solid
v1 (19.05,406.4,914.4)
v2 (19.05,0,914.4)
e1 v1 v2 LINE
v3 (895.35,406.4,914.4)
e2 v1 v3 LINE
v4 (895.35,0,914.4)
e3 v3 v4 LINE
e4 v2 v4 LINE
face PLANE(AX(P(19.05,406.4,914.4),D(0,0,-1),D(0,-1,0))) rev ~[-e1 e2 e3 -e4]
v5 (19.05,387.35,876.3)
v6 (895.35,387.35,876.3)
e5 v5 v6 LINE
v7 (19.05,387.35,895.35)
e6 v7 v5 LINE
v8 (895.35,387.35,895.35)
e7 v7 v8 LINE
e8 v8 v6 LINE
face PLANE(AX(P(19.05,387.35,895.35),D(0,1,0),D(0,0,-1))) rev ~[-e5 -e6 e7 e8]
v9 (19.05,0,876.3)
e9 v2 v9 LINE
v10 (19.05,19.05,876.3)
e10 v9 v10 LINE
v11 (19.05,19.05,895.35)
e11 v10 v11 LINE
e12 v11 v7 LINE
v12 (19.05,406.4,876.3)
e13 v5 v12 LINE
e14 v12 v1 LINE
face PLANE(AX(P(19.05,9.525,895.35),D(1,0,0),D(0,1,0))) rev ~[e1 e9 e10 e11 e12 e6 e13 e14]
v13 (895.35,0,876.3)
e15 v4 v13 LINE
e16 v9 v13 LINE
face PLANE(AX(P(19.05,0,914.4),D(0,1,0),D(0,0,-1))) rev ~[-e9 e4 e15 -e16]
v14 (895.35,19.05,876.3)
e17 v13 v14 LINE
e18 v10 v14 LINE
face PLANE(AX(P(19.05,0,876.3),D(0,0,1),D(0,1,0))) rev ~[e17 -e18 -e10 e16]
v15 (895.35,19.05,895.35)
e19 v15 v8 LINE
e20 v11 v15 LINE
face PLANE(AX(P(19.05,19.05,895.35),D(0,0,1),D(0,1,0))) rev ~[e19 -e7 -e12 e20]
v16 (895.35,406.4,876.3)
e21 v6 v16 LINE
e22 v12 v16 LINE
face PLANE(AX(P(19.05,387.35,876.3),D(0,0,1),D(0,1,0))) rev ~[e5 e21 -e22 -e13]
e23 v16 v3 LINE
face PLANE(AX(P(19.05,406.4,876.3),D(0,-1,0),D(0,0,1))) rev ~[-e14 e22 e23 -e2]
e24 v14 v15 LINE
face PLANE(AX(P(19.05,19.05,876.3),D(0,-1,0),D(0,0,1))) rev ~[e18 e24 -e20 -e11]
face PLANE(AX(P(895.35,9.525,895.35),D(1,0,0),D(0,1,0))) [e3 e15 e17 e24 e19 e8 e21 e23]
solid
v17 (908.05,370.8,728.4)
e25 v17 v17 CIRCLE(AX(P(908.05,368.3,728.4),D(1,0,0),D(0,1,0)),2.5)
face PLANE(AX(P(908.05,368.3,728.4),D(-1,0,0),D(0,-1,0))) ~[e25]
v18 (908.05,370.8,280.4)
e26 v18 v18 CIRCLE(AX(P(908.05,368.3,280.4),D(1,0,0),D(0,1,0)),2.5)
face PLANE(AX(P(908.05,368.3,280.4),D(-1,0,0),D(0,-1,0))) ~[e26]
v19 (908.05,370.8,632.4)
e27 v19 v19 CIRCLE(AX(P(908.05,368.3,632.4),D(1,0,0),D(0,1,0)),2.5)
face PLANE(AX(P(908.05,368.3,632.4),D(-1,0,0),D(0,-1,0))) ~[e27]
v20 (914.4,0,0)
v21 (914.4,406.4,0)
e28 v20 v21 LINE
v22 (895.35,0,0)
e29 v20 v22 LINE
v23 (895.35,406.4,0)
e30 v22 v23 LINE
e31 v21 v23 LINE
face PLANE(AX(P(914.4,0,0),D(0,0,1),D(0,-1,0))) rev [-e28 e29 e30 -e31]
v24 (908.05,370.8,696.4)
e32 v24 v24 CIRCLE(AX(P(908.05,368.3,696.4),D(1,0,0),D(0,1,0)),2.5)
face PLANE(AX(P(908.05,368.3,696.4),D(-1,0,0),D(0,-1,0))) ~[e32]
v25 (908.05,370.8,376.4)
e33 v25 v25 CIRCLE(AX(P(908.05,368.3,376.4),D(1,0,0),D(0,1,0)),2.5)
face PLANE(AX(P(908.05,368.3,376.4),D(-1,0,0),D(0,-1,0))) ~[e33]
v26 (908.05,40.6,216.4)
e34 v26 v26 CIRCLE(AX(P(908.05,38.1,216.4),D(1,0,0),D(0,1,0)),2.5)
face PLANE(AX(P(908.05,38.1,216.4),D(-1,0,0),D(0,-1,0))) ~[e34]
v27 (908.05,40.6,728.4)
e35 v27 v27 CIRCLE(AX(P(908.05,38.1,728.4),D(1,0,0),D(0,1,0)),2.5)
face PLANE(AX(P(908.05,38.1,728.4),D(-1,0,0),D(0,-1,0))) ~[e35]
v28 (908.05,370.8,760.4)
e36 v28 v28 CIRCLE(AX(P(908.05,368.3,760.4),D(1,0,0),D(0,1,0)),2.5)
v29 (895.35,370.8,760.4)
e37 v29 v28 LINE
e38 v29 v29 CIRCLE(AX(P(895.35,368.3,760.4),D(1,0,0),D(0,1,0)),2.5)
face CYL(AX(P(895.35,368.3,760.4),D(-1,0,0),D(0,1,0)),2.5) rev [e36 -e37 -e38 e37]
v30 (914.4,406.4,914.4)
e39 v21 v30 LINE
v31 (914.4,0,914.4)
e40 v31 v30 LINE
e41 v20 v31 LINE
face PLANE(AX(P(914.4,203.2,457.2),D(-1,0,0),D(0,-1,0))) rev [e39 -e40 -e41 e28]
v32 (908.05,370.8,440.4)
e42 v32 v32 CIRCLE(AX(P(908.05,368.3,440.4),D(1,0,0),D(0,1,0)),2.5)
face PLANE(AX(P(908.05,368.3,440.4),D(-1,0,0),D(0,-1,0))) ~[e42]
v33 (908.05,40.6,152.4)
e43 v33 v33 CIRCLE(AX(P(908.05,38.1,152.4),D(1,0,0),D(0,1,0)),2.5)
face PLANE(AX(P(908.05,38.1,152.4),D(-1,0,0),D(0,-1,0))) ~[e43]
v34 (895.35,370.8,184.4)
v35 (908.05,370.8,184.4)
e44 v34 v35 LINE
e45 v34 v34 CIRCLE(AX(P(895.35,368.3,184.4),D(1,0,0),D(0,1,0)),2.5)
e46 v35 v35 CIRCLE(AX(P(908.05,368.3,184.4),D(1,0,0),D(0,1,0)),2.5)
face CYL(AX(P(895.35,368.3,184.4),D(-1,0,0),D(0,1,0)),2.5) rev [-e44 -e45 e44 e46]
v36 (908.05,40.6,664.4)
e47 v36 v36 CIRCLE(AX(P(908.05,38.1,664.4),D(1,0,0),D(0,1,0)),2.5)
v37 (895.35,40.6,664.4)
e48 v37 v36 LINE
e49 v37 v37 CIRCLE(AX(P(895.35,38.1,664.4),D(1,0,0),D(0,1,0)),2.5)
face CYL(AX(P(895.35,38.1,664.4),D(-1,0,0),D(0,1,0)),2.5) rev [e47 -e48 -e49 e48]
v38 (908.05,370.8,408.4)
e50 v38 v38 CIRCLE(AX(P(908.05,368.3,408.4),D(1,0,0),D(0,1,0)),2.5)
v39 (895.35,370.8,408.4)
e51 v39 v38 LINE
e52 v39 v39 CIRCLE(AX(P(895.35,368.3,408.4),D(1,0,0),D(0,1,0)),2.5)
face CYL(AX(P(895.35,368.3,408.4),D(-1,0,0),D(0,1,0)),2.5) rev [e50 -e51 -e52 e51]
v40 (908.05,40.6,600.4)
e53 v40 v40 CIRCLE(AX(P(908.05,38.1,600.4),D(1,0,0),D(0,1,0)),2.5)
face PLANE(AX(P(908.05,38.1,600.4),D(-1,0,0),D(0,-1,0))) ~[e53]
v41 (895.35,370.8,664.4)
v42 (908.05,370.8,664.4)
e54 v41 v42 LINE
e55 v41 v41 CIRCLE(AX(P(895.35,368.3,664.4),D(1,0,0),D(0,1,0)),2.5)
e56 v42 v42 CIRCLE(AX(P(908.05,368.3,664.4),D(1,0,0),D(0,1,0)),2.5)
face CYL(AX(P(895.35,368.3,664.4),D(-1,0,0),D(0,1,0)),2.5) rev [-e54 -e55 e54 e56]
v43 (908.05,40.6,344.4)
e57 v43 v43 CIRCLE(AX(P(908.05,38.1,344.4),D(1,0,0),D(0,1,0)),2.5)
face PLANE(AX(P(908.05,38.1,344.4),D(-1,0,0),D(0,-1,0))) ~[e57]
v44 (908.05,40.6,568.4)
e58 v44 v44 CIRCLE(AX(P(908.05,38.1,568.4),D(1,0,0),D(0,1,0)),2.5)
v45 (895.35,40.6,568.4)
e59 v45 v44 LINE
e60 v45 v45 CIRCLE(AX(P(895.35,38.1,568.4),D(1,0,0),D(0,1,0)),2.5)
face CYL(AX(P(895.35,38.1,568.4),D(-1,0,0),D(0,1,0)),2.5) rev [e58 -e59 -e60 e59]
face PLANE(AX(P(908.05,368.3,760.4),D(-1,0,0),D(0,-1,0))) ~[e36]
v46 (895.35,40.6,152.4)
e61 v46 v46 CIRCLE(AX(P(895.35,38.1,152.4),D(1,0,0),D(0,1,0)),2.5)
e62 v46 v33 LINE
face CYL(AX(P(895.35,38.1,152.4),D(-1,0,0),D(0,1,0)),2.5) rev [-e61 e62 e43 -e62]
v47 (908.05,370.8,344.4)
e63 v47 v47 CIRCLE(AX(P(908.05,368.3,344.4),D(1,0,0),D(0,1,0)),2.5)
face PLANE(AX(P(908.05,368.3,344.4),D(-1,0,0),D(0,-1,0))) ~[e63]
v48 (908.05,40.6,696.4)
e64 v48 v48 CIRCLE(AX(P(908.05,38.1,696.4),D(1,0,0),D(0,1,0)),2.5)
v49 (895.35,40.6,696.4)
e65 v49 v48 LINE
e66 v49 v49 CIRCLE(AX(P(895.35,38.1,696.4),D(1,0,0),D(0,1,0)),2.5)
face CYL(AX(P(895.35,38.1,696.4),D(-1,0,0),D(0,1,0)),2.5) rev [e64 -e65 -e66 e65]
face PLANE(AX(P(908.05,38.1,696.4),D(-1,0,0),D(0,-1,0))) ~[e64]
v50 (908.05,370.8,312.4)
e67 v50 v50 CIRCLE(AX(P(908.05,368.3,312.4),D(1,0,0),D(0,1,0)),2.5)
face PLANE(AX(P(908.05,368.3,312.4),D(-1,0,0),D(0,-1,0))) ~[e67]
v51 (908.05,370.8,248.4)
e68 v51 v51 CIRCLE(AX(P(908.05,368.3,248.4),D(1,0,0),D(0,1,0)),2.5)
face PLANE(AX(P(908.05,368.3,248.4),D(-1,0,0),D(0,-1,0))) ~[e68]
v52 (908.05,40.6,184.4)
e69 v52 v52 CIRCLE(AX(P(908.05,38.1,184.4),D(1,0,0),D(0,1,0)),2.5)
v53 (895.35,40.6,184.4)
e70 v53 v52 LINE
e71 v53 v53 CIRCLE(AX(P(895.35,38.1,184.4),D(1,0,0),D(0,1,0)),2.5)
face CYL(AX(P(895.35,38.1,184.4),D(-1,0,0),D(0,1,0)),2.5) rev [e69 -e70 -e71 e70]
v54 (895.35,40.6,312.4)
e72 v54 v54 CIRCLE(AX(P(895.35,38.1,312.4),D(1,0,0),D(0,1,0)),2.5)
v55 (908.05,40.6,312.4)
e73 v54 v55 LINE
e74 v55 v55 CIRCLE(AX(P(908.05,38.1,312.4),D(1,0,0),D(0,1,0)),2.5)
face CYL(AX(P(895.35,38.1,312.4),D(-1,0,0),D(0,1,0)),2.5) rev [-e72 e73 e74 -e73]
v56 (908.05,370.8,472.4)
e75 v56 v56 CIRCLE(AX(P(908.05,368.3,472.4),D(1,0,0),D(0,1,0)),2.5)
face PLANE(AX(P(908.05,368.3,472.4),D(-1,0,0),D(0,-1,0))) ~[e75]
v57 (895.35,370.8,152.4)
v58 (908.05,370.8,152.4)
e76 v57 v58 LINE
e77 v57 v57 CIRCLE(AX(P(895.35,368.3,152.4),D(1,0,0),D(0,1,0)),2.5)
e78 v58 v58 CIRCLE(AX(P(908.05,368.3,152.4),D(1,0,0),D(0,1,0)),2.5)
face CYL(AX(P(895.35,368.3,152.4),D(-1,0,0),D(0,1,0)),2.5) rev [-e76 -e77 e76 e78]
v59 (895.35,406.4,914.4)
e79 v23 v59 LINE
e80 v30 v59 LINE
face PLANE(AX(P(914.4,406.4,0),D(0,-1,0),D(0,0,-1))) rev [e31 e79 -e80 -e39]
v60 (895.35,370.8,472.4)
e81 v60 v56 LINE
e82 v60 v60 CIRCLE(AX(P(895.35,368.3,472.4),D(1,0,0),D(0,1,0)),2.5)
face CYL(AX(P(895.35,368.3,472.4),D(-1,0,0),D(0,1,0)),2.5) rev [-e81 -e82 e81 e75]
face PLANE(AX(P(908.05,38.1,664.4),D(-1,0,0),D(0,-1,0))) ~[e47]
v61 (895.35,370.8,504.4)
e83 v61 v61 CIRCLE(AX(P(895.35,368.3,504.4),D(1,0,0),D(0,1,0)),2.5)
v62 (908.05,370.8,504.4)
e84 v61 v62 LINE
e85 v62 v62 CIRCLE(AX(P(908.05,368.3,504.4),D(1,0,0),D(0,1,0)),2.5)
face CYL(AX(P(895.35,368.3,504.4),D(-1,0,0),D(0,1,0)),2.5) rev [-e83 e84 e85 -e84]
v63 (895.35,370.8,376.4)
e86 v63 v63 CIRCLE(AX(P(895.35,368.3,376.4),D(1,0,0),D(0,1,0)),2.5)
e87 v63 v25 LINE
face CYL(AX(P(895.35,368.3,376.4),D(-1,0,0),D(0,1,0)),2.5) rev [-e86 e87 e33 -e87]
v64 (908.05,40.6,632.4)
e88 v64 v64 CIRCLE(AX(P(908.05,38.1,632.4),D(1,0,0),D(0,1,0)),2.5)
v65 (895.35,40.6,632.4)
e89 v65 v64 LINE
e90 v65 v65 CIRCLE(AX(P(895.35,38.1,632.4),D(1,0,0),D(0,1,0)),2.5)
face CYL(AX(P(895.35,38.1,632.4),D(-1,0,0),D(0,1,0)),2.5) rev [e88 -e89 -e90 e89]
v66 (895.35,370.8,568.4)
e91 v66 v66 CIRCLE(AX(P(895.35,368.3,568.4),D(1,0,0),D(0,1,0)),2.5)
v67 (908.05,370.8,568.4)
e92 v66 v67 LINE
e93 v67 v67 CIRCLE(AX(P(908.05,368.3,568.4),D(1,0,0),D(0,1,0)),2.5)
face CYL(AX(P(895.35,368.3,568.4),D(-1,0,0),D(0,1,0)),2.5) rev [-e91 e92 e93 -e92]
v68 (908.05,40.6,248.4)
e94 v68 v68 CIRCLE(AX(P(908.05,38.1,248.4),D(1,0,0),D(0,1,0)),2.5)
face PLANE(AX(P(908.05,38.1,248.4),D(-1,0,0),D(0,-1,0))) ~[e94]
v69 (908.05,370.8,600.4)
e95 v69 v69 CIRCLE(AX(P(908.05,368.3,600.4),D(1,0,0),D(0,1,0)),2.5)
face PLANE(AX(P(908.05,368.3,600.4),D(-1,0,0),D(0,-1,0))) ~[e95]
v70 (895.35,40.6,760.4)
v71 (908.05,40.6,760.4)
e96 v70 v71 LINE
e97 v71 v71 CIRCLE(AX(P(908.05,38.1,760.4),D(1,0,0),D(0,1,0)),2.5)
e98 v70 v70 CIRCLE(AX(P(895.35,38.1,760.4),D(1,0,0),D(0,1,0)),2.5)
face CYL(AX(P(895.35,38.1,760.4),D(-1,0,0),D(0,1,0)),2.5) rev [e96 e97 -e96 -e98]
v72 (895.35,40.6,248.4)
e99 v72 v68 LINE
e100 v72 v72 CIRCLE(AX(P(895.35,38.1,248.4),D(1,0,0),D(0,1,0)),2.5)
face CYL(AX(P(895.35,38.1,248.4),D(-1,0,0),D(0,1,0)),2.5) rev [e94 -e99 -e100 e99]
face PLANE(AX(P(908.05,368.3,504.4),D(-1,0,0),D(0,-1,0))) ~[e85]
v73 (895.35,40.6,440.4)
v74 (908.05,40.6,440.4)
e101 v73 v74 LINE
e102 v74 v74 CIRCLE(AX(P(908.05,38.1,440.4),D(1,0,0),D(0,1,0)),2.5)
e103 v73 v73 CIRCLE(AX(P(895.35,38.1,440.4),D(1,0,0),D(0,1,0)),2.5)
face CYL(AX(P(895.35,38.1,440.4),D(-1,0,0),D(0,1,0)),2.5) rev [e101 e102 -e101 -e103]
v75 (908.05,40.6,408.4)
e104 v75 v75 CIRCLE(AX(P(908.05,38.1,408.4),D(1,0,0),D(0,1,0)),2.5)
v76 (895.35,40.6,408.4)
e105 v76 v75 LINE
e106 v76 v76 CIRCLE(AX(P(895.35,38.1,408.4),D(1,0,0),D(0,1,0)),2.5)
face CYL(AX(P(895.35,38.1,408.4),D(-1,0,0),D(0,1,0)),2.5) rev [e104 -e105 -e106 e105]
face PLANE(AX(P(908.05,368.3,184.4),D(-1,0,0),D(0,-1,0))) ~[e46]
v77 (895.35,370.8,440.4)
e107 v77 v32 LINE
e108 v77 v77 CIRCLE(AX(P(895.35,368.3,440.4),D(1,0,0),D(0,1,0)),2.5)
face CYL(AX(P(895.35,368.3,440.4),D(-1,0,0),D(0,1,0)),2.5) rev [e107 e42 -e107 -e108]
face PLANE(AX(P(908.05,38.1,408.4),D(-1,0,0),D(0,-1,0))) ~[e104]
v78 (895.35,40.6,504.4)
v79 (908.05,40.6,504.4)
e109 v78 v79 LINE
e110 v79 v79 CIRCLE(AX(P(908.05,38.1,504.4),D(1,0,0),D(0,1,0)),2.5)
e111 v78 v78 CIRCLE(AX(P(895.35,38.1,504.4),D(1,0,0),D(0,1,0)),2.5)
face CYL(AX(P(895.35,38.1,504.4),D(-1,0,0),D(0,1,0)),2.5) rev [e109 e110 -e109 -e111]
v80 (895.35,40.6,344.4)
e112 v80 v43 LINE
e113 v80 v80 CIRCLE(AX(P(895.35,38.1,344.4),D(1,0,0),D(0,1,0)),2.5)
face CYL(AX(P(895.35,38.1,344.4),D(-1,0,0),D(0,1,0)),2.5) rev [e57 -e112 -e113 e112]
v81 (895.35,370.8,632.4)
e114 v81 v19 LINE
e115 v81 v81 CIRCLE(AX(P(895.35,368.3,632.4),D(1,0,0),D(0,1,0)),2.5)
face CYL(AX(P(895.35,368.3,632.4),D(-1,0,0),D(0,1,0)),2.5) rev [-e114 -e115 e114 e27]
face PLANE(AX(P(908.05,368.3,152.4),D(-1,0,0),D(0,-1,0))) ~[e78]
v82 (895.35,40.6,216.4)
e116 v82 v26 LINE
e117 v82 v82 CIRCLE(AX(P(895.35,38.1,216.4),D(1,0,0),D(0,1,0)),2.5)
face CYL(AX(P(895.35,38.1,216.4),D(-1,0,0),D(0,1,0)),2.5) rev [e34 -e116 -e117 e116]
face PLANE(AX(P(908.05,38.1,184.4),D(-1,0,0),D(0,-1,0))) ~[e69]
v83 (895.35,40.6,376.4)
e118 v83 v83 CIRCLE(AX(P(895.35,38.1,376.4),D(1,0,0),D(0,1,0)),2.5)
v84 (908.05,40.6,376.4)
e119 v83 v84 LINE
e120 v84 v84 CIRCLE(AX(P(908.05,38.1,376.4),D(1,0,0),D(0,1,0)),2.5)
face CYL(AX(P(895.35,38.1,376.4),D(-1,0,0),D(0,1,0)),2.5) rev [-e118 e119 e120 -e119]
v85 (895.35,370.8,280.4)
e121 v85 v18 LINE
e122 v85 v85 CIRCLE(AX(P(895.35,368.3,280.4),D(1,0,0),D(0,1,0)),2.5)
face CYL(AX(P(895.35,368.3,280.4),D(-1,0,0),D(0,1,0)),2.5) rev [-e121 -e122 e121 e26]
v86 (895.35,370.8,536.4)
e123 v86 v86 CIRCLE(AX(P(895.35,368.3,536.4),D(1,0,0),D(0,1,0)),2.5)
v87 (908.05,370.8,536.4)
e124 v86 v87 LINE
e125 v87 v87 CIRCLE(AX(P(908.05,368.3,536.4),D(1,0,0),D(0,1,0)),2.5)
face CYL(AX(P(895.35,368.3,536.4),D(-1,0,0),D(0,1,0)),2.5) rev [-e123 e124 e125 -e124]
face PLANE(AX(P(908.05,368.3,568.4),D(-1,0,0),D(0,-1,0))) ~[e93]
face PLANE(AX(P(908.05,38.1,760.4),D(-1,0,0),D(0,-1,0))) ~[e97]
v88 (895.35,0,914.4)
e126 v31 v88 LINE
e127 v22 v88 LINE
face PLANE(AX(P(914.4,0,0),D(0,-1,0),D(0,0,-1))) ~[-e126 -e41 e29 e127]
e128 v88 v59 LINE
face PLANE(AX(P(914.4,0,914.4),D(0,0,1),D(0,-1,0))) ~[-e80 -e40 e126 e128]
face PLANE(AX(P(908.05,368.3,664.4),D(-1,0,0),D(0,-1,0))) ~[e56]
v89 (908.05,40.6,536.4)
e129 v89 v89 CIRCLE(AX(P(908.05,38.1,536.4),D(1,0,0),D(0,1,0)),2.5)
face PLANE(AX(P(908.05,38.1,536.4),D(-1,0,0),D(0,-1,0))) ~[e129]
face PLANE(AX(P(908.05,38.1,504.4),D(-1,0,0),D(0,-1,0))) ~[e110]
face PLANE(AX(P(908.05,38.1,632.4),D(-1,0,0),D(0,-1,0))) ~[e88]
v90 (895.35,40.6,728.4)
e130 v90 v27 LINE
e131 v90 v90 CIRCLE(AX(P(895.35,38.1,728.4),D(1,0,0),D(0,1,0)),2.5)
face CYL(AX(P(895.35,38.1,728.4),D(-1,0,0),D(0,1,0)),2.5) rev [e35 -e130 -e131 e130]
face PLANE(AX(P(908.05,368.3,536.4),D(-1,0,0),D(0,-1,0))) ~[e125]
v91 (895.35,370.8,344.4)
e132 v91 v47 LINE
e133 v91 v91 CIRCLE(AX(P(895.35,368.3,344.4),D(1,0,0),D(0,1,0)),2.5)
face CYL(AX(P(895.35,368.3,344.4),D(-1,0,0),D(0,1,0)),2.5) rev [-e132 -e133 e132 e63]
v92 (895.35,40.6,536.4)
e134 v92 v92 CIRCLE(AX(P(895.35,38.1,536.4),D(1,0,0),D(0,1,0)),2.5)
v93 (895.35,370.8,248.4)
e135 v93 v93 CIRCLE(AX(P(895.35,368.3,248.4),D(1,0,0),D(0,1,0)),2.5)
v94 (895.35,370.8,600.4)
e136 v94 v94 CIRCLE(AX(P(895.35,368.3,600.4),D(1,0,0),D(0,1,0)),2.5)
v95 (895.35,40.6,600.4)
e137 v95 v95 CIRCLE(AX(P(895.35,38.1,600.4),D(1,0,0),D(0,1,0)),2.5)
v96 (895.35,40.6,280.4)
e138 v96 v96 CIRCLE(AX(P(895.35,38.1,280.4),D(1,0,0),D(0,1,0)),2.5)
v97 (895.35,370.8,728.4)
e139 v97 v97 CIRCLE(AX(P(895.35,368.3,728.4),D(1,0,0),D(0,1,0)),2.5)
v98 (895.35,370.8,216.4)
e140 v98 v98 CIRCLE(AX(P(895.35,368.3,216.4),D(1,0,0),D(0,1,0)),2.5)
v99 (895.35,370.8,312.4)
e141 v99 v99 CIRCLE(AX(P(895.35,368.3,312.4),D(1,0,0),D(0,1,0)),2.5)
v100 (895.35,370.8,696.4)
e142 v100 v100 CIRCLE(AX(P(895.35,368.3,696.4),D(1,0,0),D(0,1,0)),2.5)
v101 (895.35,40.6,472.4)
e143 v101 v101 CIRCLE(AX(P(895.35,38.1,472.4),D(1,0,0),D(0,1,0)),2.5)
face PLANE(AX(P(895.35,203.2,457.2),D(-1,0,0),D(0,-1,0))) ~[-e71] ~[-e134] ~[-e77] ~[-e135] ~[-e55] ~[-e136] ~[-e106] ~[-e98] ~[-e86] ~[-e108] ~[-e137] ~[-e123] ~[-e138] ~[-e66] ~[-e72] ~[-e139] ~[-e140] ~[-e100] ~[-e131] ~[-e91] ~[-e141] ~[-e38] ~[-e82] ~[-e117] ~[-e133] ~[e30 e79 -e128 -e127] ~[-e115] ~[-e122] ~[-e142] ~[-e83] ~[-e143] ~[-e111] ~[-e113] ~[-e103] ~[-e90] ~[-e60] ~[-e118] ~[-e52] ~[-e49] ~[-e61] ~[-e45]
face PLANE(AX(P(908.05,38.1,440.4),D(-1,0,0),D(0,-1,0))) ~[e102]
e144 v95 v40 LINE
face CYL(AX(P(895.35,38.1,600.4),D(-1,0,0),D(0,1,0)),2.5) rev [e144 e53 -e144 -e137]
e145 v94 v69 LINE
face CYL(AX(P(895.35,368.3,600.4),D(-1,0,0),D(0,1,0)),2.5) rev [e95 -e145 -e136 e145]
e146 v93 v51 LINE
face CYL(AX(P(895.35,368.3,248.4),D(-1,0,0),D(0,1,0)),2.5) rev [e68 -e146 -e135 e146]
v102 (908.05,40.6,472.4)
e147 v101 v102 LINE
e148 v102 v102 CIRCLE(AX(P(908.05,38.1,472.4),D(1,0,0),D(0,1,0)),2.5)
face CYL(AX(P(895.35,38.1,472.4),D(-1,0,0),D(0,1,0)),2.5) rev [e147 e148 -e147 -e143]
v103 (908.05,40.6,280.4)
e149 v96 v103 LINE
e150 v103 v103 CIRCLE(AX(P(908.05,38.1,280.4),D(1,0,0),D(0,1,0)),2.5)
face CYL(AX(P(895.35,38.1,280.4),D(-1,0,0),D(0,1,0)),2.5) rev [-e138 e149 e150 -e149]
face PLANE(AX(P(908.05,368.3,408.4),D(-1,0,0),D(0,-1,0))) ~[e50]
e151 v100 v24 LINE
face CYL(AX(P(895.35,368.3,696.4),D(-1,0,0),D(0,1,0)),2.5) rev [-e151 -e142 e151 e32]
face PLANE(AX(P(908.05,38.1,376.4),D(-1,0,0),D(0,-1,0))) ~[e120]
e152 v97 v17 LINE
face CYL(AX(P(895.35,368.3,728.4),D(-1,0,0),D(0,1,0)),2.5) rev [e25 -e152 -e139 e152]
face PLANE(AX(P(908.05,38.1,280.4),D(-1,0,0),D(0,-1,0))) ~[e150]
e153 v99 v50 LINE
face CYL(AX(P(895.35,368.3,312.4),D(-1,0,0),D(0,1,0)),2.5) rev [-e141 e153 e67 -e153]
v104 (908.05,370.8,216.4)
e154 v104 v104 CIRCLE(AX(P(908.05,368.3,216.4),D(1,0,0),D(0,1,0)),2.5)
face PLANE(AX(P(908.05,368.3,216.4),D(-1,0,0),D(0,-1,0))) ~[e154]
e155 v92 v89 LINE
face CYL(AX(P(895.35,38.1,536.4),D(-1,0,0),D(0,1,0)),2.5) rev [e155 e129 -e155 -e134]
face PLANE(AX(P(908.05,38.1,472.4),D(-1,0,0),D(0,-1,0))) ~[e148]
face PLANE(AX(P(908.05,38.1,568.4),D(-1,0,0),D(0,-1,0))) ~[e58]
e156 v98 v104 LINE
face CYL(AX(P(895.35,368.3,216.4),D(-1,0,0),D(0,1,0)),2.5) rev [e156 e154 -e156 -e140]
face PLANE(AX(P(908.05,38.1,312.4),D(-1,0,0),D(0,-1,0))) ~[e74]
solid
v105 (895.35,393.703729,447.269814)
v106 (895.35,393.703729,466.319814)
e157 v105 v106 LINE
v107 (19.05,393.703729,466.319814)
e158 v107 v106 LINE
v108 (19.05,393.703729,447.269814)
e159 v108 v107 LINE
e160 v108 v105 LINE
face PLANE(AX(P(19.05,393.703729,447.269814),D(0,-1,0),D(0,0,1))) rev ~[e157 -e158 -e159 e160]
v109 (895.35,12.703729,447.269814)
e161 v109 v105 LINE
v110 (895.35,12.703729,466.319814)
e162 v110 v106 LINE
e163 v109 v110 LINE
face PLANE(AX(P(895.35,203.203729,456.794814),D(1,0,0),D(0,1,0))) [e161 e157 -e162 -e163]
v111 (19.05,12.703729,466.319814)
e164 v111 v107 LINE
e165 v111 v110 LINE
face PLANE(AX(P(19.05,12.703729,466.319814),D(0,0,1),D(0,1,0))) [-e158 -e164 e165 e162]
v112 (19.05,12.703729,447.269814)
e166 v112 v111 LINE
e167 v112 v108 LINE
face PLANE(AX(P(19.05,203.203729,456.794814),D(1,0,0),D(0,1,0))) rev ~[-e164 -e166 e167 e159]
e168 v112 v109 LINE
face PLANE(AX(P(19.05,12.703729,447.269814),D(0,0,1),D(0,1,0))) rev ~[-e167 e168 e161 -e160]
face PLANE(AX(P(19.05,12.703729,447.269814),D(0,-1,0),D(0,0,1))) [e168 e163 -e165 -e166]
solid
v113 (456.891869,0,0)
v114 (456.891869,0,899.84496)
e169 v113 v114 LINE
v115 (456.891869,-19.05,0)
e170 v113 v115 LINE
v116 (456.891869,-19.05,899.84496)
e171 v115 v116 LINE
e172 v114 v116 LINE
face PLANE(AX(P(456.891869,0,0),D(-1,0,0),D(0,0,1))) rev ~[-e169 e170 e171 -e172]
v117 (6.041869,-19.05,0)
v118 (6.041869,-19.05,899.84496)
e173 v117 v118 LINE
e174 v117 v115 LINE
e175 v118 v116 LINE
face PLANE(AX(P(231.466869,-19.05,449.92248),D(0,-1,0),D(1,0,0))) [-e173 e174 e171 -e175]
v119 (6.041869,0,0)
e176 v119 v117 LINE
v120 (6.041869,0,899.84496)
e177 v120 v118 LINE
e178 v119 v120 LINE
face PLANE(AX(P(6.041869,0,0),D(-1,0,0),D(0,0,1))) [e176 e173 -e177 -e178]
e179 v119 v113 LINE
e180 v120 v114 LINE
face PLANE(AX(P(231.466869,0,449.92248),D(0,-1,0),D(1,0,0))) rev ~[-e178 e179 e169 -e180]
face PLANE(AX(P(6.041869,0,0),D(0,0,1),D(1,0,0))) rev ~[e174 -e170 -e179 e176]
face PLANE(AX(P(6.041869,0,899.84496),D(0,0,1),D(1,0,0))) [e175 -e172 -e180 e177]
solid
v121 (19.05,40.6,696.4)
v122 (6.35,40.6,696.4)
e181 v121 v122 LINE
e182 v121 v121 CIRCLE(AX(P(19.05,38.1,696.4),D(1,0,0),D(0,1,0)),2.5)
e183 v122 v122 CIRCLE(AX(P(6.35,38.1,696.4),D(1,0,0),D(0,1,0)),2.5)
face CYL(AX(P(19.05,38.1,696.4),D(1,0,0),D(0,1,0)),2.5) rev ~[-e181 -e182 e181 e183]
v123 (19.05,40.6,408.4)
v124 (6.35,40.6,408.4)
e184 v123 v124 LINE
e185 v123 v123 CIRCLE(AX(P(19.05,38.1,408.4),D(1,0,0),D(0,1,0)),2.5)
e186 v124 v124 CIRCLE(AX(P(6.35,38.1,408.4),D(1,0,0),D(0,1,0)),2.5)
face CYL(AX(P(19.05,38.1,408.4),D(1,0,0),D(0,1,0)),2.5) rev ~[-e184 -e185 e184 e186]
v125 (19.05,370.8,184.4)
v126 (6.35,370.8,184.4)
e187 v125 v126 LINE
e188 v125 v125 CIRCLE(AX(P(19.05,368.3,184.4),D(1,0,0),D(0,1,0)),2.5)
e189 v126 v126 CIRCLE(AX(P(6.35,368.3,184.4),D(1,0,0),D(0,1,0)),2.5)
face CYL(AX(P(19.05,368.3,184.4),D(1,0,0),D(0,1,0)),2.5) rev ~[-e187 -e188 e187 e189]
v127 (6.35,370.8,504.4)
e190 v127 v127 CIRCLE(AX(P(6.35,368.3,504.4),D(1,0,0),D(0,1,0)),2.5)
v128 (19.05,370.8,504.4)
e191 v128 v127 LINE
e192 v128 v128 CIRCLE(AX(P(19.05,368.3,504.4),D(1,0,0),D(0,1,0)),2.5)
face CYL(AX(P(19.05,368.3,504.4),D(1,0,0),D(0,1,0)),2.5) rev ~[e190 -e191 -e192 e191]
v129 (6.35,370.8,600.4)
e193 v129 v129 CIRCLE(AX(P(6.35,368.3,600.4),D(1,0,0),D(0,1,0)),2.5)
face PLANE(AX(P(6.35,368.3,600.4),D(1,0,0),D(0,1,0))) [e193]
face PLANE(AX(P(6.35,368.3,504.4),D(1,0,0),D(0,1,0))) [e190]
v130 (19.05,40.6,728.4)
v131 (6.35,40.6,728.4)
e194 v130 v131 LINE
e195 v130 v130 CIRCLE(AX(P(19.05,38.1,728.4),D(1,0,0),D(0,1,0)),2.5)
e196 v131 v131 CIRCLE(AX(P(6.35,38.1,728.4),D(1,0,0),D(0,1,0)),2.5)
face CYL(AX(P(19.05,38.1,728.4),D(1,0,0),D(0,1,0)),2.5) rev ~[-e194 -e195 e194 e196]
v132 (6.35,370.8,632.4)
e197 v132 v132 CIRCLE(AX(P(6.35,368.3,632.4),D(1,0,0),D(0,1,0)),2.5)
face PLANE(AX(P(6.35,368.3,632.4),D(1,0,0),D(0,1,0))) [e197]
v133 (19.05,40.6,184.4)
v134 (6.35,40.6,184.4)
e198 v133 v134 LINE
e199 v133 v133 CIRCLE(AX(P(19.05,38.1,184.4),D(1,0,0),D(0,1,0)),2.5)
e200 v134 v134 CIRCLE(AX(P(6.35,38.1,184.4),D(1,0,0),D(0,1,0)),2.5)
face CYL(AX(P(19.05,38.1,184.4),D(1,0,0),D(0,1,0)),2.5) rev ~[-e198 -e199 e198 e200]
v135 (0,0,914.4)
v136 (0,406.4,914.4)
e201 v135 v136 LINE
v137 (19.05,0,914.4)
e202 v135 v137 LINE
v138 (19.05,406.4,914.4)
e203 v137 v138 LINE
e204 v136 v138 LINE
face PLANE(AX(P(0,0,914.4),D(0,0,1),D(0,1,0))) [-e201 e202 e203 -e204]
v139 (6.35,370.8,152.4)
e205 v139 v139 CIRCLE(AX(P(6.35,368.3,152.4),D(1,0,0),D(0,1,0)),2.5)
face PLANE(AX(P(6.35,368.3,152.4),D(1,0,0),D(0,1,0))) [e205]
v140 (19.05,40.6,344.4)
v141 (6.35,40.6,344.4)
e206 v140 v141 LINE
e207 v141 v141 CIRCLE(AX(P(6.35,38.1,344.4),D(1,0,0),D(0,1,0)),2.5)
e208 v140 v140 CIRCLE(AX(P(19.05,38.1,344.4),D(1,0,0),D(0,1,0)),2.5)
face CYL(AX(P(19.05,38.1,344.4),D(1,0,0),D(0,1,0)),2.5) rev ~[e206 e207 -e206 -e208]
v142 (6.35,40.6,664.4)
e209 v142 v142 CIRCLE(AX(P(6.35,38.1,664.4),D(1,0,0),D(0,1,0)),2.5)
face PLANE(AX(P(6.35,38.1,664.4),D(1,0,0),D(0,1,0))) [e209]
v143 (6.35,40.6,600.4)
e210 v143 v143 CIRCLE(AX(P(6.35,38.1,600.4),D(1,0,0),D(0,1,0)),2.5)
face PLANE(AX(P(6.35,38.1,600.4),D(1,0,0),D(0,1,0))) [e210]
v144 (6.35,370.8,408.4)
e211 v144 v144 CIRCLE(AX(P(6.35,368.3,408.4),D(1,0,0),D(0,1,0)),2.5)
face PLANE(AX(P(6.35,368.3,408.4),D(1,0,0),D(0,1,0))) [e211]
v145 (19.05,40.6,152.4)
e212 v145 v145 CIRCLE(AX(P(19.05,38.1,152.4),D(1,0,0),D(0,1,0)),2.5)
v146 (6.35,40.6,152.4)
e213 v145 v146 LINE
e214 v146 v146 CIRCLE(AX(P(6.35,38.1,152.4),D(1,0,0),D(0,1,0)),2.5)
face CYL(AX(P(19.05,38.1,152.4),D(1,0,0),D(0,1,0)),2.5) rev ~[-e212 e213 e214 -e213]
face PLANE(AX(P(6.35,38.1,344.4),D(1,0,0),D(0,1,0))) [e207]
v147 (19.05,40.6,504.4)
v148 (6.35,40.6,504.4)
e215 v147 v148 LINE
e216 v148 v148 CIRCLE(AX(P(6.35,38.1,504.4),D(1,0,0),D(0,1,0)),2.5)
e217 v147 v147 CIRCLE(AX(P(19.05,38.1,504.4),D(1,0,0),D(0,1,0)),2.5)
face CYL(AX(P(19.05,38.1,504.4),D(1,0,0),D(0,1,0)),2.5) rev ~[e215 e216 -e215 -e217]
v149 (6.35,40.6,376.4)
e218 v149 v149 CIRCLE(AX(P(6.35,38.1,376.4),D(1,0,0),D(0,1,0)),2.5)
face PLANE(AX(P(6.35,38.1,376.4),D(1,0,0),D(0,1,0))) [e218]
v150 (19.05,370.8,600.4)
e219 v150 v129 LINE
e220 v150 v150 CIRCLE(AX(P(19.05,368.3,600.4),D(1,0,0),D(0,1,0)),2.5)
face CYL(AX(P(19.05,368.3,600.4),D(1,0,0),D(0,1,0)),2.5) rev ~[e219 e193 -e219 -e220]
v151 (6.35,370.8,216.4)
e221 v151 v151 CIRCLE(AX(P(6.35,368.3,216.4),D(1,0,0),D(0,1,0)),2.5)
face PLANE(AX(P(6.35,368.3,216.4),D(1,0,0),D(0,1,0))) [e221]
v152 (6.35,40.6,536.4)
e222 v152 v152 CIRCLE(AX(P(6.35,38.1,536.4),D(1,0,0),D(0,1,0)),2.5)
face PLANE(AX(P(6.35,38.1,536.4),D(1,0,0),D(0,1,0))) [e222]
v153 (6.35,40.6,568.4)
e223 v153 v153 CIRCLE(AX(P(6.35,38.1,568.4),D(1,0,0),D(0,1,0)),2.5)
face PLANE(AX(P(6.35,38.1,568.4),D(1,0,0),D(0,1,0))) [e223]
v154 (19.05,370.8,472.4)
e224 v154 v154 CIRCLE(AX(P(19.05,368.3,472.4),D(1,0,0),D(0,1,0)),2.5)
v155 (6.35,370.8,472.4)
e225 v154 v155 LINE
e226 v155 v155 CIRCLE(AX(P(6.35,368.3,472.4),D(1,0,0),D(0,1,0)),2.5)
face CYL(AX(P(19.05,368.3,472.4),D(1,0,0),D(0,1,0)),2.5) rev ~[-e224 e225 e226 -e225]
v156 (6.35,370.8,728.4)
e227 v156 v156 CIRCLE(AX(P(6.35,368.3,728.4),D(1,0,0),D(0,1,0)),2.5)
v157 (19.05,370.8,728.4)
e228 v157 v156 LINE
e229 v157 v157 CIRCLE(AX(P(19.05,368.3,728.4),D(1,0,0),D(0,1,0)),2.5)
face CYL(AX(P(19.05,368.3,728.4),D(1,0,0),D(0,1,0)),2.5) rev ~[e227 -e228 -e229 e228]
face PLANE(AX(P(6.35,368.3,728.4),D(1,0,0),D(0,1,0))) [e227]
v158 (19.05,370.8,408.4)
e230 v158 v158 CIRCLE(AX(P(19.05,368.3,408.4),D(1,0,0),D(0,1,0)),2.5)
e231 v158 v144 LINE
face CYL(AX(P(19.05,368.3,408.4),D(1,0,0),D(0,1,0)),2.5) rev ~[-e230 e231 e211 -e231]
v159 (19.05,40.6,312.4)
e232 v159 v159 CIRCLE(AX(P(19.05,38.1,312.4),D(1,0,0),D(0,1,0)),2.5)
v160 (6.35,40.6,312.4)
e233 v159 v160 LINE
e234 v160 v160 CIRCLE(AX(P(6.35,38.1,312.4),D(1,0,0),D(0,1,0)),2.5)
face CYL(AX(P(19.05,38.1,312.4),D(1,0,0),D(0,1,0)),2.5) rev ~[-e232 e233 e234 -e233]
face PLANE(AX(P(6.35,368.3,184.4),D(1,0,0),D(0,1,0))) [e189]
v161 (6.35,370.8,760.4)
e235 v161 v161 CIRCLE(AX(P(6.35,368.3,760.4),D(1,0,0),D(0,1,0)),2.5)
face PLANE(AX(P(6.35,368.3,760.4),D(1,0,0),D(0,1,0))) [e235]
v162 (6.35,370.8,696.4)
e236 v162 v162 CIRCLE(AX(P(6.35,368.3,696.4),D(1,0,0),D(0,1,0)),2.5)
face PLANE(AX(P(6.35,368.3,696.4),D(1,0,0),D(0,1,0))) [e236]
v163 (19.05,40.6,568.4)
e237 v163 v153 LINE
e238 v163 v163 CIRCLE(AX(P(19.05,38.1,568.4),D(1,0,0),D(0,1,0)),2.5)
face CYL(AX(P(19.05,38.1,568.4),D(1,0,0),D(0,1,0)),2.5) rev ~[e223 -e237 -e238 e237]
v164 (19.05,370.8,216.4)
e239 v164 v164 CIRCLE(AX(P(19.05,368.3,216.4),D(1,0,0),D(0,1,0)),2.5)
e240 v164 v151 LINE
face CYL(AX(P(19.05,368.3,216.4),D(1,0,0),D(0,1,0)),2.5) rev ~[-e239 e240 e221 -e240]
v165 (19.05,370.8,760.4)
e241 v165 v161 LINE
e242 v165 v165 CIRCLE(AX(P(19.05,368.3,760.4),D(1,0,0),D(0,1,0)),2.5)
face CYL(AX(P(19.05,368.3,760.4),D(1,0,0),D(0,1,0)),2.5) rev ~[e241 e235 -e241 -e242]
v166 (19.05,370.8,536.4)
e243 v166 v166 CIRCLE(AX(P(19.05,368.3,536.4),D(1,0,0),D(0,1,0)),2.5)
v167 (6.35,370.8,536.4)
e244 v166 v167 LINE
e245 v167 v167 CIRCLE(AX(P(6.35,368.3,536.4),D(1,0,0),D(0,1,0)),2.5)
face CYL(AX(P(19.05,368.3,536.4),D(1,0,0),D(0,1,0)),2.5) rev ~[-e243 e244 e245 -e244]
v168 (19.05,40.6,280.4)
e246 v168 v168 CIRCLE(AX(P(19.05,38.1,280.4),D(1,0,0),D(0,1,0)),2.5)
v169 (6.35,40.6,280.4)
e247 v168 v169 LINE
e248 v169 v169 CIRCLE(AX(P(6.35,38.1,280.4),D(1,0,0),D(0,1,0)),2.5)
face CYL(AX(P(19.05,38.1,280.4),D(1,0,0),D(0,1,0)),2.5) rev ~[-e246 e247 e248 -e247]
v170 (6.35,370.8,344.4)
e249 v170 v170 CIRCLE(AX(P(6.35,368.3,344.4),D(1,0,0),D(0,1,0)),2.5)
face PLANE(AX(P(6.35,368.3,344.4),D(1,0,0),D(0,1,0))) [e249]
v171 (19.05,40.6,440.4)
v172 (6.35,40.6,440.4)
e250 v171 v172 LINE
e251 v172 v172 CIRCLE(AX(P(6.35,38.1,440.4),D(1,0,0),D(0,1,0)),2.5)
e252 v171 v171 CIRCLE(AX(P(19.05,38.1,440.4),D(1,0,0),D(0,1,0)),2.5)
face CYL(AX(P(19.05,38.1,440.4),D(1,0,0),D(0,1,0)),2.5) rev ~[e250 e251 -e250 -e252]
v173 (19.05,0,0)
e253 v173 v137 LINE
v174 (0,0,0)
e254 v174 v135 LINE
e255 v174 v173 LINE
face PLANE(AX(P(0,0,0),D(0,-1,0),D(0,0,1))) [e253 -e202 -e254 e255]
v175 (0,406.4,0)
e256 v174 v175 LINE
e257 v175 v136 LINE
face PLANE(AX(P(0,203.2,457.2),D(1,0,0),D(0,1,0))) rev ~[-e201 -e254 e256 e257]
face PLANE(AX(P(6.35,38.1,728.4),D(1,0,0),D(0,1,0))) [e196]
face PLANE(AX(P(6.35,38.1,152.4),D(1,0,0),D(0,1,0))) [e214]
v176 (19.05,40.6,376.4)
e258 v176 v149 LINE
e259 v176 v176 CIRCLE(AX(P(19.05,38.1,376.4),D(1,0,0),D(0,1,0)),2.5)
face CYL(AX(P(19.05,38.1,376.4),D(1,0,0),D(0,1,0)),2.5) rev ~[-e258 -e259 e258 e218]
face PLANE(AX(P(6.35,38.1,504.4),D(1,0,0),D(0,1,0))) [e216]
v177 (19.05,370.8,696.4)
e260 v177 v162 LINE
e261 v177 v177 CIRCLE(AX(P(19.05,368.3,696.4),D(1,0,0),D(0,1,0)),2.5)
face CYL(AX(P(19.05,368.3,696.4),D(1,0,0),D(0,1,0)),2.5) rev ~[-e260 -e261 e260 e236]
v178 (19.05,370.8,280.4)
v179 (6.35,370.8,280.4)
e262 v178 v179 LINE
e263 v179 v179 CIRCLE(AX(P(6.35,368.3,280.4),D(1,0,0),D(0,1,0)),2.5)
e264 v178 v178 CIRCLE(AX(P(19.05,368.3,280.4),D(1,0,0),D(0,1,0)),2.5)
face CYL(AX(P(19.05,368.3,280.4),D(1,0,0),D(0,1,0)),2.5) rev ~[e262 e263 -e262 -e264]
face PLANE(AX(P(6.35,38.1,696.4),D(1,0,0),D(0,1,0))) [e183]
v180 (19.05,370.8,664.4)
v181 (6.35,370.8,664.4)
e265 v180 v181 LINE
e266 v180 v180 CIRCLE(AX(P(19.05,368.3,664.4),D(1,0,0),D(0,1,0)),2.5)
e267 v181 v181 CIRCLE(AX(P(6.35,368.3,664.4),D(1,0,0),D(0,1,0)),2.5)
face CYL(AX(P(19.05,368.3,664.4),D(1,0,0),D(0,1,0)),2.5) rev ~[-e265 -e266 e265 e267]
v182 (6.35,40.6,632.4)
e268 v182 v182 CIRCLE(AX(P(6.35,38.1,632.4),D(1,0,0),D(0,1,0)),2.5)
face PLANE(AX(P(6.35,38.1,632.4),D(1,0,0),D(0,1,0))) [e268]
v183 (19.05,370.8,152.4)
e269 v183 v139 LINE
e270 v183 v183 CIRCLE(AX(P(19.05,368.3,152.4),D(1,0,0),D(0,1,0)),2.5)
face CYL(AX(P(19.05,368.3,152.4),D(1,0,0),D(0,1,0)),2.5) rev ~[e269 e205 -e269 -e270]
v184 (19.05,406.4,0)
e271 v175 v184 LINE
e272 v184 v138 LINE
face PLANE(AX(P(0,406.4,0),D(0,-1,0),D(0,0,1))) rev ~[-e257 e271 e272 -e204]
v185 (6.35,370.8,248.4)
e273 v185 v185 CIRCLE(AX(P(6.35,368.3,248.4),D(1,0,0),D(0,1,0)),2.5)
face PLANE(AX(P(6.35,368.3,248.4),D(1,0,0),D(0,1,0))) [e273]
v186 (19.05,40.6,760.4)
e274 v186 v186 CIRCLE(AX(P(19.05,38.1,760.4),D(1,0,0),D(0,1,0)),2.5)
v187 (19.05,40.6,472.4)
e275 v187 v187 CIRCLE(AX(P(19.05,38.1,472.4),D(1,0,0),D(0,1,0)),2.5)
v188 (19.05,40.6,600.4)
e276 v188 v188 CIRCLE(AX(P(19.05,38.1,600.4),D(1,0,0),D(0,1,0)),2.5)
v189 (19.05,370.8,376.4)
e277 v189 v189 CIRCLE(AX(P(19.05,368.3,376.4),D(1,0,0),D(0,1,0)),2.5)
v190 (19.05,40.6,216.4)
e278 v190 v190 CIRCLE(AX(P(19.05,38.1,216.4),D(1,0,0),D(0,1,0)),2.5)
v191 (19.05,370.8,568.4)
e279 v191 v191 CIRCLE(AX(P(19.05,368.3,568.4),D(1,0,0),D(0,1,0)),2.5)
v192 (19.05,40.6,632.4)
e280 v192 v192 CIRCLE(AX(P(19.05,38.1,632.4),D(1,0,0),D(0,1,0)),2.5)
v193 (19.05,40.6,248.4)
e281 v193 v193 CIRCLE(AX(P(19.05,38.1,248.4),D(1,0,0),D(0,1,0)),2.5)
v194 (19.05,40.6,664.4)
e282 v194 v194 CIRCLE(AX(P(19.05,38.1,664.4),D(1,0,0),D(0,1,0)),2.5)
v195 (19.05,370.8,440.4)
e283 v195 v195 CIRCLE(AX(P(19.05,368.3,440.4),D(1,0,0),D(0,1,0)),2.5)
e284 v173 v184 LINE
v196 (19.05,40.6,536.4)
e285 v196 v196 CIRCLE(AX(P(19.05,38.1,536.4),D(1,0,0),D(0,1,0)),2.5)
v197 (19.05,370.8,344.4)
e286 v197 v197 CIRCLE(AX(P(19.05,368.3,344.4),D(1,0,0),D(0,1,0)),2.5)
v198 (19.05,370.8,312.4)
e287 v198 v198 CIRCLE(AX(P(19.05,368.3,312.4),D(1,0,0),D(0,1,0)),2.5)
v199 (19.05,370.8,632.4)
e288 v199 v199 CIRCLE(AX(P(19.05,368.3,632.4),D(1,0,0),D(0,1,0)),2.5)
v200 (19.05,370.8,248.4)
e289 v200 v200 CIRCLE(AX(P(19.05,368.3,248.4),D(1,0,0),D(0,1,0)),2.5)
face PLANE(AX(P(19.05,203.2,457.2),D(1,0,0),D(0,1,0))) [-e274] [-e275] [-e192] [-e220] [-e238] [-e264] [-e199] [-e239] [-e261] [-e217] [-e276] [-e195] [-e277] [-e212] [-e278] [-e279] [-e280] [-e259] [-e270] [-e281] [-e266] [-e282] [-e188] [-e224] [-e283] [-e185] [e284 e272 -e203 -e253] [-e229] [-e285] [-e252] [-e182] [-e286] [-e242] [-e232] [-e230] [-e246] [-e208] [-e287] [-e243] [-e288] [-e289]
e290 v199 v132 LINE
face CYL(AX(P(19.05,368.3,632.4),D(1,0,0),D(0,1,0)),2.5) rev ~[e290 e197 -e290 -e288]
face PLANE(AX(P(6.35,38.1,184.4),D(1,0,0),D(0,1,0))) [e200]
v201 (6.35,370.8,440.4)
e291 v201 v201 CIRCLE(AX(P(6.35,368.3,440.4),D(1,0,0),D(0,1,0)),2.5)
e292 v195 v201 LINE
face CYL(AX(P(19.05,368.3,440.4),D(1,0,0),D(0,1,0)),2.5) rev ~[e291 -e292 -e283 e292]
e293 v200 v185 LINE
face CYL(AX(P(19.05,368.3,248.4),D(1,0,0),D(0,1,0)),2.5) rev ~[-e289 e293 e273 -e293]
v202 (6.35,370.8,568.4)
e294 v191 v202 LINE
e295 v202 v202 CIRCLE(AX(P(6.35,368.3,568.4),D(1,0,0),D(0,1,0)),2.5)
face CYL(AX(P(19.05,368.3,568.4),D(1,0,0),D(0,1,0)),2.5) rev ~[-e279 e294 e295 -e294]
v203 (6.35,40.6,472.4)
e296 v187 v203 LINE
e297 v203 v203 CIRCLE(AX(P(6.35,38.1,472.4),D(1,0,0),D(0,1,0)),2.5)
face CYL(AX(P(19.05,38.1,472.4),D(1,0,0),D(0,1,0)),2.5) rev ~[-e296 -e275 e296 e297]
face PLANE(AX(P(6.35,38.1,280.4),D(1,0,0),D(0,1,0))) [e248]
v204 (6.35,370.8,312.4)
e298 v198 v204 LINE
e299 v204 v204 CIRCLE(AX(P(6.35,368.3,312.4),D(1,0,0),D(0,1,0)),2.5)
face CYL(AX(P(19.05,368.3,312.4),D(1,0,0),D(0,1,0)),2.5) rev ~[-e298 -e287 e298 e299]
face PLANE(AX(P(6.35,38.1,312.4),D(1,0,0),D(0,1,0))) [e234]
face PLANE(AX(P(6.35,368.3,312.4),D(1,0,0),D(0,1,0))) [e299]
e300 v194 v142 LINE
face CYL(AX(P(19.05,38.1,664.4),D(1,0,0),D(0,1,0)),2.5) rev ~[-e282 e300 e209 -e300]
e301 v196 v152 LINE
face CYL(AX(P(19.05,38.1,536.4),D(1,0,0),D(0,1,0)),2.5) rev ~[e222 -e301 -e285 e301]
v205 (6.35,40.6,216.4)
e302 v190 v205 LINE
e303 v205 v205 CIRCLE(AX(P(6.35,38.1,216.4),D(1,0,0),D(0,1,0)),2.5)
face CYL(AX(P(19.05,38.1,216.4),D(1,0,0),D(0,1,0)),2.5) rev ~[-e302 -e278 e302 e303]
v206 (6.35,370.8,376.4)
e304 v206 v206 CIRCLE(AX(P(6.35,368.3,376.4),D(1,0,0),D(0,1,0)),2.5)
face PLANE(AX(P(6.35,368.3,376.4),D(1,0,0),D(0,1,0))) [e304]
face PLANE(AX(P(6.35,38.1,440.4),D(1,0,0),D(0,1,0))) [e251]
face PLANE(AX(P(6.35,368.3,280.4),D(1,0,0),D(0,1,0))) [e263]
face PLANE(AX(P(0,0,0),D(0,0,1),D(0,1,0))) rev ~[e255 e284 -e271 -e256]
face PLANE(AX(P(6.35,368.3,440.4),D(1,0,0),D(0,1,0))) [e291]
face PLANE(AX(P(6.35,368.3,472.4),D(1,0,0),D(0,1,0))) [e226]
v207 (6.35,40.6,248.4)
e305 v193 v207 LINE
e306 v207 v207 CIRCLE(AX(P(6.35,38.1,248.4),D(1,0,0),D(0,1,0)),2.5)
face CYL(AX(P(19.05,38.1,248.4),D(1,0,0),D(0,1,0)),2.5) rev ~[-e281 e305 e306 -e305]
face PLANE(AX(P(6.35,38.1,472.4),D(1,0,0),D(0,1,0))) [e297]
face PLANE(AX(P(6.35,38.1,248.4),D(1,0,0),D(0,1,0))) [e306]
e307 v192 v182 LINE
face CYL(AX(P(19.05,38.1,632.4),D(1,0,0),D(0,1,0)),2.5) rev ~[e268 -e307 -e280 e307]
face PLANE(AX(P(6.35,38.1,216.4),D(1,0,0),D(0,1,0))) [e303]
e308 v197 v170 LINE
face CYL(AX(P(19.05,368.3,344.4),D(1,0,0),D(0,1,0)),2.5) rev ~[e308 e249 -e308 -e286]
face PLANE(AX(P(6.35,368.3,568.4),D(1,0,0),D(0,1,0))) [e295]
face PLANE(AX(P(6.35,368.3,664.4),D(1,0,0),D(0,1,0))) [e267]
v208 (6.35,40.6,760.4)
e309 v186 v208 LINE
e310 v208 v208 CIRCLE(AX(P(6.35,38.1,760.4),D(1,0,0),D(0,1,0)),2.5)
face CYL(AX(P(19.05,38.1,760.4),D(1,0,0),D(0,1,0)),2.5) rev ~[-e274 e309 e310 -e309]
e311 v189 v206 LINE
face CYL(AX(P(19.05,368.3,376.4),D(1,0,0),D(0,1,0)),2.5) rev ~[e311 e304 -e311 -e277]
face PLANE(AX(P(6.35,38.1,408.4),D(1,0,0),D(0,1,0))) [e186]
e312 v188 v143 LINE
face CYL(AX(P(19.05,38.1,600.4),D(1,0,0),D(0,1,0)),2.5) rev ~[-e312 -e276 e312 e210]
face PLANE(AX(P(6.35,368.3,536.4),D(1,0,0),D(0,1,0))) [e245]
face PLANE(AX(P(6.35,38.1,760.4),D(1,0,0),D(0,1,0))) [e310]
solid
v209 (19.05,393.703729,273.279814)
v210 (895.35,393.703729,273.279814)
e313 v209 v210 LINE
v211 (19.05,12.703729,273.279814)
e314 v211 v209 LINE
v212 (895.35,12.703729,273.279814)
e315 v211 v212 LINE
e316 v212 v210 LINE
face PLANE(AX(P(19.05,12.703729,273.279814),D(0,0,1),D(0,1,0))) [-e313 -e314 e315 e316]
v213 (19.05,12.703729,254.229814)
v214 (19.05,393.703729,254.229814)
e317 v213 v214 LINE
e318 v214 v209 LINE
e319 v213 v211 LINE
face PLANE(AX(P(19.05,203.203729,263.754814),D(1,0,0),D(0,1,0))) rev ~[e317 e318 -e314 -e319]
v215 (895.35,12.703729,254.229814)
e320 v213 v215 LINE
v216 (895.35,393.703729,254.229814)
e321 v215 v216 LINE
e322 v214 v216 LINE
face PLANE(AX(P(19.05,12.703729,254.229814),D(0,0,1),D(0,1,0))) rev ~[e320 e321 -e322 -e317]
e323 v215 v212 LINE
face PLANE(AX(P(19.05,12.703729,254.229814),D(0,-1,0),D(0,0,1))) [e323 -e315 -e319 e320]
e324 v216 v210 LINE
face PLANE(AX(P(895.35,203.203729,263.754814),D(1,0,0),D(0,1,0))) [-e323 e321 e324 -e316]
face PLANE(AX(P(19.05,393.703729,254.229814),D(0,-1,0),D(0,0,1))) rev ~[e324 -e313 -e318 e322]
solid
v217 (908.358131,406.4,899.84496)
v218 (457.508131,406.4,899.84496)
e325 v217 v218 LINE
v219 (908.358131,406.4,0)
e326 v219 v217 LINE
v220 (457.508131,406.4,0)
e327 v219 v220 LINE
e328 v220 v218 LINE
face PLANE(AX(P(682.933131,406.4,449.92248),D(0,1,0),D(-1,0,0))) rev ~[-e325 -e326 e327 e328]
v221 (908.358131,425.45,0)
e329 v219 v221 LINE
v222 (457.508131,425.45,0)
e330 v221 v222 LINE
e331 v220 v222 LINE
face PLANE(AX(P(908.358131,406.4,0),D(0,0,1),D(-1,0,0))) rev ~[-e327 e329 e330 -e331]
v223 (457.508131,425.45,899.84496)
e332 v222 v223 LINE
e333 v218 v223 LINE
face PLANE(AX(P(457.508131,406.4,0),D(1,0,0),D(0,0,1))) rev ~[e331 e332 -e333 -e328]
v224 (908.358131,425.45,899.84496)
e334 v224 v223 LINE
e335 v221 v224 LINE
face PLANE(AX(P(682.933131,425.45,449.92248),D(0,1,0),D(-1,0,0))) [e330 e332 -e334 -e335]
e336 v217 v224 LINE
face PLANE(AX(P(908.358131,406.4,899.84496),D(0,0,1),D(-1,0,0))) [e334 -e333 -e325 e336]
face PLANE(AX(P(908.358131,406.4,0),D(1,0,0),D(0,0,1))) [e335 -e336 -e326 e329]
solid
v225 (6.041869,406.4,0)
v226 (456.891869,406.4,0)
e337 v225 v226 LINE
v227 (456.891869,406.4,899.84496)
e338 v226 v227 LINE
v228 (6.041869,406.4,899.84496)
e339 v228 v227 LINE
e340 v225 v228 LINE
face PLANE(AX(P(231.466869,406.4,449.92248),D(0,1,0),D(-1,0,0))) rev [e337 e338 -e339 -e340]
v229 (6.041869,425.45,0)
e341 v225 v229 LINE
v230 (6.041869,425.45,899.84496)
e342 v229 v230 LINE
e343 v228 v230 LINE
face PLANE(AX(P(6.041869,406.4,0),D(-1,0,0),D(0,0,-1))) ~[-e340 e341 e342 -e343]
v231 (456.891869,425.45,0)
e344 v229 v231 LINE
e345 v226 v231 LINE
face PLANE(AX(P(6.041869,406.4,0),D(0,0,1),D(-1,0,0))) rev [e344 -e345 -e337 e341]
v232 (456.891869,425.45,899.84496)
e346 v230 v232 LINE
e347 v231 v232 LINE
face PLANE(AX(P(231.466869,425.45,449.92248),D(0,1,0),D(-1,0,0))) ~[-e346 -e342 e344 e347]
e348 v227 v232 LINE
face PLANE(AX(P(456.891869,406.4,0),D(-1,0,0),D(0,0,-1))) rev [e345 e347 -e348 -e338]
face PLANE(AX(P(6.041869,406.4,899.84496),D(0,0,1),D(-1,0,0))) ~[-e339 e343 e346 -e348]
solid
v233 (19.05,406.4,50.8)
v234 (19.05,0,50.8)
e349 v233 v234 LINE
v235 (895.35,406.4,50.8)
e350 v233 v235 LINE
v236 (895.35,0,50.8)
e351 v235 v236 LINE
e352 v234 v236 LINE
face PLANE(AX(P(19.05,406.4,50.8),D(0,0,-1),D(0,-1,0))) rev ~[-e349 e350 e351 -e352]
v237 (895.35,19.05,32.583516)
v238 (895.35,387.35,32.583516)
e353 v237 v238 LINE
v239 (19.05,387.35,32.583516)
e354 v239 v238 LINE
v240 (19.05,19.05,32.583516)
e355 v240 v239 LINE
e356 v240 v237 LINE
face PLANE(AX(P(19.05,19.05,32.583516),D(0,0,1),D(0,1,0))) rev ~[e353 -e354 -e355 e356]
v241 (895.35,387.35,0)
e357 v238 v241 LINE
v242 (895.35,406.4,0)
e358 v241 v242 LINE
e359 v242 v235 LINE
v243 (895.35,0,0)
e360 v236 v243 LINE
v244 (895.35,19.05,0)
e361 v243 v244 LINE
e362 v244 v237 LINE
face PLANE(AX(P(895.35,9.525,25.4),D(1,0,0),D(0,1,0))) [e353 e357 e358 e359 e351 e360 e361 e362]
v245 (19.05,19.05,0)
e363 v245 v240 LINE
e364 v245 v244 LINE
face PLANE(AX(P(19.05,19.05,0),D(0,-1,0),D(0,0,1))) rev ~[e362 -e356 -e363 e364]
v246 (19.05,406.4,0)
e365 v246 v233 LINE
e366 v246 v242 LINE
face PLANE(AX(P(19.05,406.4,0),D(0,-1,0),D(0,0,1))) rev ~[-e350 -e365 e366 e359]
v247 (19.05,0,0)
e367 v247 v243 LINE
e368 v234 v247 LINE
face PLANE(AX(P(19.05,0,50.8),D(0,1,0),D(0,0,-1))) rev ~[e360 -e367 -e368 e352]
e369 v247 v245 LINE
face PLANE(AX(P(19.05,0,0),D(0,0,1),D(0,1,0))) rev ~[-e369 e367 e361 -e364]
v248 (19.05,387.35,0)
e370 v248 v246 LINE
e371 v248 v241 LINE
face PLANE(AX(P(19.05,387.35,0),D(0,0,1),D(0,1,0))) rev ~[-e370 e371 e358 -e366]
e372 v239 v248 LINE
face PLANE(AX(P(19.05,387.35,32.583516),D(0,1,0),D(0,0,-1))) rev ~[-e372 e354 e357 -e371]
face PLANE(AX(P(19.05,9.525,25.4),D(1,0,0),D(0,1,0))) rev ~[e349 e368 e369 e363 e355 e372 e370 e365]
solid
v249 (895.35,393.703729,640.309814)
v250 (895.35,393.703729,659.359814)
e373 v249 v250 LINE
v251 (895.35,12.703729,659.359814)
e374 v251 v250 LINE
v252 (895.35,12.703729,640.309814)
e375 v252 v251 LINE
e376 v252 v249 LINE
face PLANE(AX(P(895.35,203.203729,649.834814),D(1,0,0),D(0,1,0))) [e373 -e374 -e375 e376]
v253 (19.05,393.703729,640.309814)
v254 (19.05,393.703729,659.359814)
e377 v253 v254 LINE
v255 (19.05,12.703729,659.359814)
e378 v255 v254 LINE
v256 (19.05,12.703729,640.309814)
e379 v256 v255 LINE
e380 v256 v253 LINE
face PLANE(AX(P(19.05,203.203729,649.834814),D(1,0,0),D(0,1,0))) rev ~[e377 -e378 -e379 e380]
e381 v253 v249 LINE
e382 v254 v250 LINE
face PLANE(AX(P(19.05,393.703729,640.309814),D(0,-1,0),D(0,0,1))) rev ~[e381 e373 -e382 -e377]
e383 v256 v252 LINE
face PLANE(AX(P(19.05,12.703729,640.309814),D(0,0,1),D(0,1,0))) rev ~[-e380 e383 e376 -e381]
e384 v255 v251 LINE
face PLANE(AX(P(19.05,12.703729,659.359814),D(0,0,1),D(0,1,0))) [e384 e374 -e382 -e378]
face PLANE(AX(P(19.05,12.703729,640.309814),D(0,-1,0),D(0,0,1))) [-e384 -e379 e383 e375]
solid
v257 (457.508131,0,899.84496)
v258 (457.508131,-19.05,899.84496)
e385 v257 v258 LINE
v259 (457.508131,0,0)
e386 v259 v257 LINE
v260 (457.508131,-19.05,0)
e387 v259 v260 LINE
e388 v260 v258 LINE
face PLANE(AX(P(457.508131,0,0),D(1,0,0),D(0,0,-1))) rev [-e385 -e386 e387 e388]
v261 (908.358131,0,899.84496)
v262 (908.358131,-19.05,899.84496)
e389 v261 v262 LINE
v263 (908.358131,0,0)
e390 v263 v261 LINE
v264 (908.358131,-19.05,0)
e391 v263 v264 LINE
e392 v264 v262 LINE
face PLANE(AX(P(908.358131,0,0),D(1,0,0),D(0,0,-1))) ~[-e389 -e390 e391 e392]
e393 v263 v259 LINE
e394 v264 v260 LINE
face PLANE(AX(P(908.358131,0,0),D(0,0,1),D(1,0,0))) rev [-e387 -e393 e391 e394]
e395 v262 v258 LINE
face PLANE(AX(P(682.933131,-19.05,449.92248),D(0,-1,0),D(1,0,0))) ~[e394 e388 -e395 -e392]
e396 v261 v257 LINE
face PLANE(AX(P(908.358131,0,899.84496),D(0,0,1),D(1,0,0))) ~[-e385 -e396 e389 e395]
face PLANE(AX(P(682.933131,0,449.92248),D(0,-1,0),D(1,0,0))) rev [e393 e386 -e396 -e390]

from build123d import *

# Parameters (mm, degrees)
F0_W     = 406.4
F0_H     = 914.4
F1_DEPTH = 19.05
F2_R     = 2.5
F3_DEPTH = 12.7
F4_W     = 381
F4_H     = 19.05
F4_W_2   = 368.3
F4_H_2   = 18.216484
F6_DEPTH = 876.3
F8_W     = 450.85
F8_H     = 899.84496
F9_DEPTH = 19.05


with BuildPart() as f1:
    # F0 (on Right) → F1 (new body)
    with BuildSketch(Plane.YZ):
        with Locations((203.2, 457.2)):
            Rectangle(F0_W, F0_H)
    extrude(amount=F1_DEPTH)

    # F2 (on face) → F3 (cut)
    with BuildSketch(Plane.YZ.offset(19.05)):
        with Locations((38.1, 152.4)):
            Circle(F2_R)
        with Locations((38.1, 184.4)):
            Circle(F2_R)
        with Locations((38.1, 216.4)):
            Circle(F2_R)
        with Locations((38.1, 248.4)):
            Circle(F2_R)
        with Locations((38.1, 280.4)):
            Circle(F2_R)
        with Locations((38.1, 312.4)):
            Circle(F2_R)
        with Locations((38.1, 344.4)):
            Circle(F2_R)
        with Locations((38.1, 376.4)):
            Circle(F2_R)
        with Locations((38.1, 408.4)):
            Circle(F2_R)
        with Locations((38.1, 440.4)):
            Circle(F2_R)
        with Locations((38.1, 472.4)):
            Circle(F2_R)
        with Locations((38.1, 504.4)):
            Circle(F2_R)
        with Locations((38.1, 536.4)):
            Circle(F2_R)
        with Locations((38.1, 568.4)):
            Circle(F2_R)
        with Locations((38.1, 600.4)):
            Circle(F2_R)
        with Locations((38.1, 632.4)):
            Circle(F2_R)
        with Locations((38.1, 664.4)):
            Circle(F2_R)
        with Locations((38.1, 696.4)):
            Circle(F2_R)
        with Locations((38.1, 728.4)):
            Circle(F2_R)
        with Locations((38.1, 760.4)):
            Circle(F2_R)
        with Locations((368.3, 152.4)):
            Circle(F2_R)
        with Locations((368.3, 184.4)):
            Circle(F2_R)
        with Locations((368.3, 216.4)):
            Circle(F2_R)
        with Locations((368.3, 248.4)):
            Circle(F2_R)
        with Locations((368.3, 280.4)):
            Circle(F2_R)
        with Locations((368.3, 312.4)):
            Circle(F2_R)
        with Locations((368.3, 344.4)):
            Circle(F2_R)
        with Locations((368.3, 376.4)):
            Circle(F2_R)
        with Locations((368.3, 408.4)):
            Circle(F2_R)
        with Locations((368.3, 440.4)):
            Circle(F2_R)
        with Locations((368.3, 472.4)):
            Circle(F2_R)
        with Locations((368.3, 504.4)):
            Circle(F2_R)
        with Locations((368.3, 536.4)):
            Circle(F2_R)
        with Locations((368.3, 568.4)):
            Circle(F2_R)
        with Locations((368.3, 600.4)):
            Circle(F2_R)
        with Locations((368.3, 632.4)):
            Circle(F2_R)
        with Locations((368.3, 664.4)):
            Circle(F2_R)
        with Locations((368.3, 696.4)):
            Circle(F2_R)
        with Locations((368.3, 728.4)):
            Circle(F2_R)
        with Locations((368.3, 760.4)):
            Circle(F2_R)
    extrude(amount=-F3_DEPTH, mode=Mode.SUBTRACT)


with BuildPart() as f6:
    # F4 (on face) → F6 (new body)
    with BuildSketch(Plane.YZ.offset(19.05)):
        with Locations((203.203729, 263.754814)):
            Rectangle(F4_W, F4_H)
        with Locations((203.203729, 456.794814)):
            Rectangle(F4_W, F4_H)
        with Locations((203.203729, 649.834814)):
            Rectangle(F4_W, F4_H)
        Polygon((19.05, 914.4), (0, 914.4), (0, 876.3), (19.05, 876.3), (19.05, 895.35), align=None)
        Polygon((406.4, 914.4), (387.35, 914.4), (387.35, 895.35), (387.35, 876.3), (406.4, 876.3), align=None)
        with Locations((203.2, 904.875)):
            Rectangle(F4_W_2, F4_H)
        Polygon((19.05, 50.8), (0, 50.8), (0, 0), (19.05, 0), (19.05, 32.583516), align=None)
        Polygon((406.4, 50.8), (387.35, 50.8), (387.35, 32.583516), (387.35, 0), (406.4, 0), align=None)
        with Locations((203.2, 41.691758)):
            Rectangle(F4_W_2, F4_H_2)
    extrude(amount=F6_DEPTH)


with BuildPart() as f7_1:
    # F7: instance of F1
    add(f1.part.mirror(Plane.YZ.offset(457.2)))


with BuildPart() as f9:
    # F8 (on face) → F9 (new body)
    with BuildSketch(Plane.XZ):
        with Locations((231.466869, 449.92248)):
            Rectangle(F8_W, F8_H)
    extrude(amount=F9_DEPTH)


with BuildPart() as f10_1:
    # F10: instance of F9
    add(f9.part.mirror(Plane.YZ.offset(457.2)))


with BuildPart() as f12_1:
    # F12: instance of F9
    add(f9.part.mirror(Plane.XZ.offset(-203.2)))


with BuildPart() as f12_2:
    # F12: instance of F10_1
    add(f10_1.part.mirror(Plane.XZ.offset(-203.2)))


solid = Compound([f1.part, f6.part, f7_1.part, f9.part, f10_1.part, f12_1.part, f12_2.part])
